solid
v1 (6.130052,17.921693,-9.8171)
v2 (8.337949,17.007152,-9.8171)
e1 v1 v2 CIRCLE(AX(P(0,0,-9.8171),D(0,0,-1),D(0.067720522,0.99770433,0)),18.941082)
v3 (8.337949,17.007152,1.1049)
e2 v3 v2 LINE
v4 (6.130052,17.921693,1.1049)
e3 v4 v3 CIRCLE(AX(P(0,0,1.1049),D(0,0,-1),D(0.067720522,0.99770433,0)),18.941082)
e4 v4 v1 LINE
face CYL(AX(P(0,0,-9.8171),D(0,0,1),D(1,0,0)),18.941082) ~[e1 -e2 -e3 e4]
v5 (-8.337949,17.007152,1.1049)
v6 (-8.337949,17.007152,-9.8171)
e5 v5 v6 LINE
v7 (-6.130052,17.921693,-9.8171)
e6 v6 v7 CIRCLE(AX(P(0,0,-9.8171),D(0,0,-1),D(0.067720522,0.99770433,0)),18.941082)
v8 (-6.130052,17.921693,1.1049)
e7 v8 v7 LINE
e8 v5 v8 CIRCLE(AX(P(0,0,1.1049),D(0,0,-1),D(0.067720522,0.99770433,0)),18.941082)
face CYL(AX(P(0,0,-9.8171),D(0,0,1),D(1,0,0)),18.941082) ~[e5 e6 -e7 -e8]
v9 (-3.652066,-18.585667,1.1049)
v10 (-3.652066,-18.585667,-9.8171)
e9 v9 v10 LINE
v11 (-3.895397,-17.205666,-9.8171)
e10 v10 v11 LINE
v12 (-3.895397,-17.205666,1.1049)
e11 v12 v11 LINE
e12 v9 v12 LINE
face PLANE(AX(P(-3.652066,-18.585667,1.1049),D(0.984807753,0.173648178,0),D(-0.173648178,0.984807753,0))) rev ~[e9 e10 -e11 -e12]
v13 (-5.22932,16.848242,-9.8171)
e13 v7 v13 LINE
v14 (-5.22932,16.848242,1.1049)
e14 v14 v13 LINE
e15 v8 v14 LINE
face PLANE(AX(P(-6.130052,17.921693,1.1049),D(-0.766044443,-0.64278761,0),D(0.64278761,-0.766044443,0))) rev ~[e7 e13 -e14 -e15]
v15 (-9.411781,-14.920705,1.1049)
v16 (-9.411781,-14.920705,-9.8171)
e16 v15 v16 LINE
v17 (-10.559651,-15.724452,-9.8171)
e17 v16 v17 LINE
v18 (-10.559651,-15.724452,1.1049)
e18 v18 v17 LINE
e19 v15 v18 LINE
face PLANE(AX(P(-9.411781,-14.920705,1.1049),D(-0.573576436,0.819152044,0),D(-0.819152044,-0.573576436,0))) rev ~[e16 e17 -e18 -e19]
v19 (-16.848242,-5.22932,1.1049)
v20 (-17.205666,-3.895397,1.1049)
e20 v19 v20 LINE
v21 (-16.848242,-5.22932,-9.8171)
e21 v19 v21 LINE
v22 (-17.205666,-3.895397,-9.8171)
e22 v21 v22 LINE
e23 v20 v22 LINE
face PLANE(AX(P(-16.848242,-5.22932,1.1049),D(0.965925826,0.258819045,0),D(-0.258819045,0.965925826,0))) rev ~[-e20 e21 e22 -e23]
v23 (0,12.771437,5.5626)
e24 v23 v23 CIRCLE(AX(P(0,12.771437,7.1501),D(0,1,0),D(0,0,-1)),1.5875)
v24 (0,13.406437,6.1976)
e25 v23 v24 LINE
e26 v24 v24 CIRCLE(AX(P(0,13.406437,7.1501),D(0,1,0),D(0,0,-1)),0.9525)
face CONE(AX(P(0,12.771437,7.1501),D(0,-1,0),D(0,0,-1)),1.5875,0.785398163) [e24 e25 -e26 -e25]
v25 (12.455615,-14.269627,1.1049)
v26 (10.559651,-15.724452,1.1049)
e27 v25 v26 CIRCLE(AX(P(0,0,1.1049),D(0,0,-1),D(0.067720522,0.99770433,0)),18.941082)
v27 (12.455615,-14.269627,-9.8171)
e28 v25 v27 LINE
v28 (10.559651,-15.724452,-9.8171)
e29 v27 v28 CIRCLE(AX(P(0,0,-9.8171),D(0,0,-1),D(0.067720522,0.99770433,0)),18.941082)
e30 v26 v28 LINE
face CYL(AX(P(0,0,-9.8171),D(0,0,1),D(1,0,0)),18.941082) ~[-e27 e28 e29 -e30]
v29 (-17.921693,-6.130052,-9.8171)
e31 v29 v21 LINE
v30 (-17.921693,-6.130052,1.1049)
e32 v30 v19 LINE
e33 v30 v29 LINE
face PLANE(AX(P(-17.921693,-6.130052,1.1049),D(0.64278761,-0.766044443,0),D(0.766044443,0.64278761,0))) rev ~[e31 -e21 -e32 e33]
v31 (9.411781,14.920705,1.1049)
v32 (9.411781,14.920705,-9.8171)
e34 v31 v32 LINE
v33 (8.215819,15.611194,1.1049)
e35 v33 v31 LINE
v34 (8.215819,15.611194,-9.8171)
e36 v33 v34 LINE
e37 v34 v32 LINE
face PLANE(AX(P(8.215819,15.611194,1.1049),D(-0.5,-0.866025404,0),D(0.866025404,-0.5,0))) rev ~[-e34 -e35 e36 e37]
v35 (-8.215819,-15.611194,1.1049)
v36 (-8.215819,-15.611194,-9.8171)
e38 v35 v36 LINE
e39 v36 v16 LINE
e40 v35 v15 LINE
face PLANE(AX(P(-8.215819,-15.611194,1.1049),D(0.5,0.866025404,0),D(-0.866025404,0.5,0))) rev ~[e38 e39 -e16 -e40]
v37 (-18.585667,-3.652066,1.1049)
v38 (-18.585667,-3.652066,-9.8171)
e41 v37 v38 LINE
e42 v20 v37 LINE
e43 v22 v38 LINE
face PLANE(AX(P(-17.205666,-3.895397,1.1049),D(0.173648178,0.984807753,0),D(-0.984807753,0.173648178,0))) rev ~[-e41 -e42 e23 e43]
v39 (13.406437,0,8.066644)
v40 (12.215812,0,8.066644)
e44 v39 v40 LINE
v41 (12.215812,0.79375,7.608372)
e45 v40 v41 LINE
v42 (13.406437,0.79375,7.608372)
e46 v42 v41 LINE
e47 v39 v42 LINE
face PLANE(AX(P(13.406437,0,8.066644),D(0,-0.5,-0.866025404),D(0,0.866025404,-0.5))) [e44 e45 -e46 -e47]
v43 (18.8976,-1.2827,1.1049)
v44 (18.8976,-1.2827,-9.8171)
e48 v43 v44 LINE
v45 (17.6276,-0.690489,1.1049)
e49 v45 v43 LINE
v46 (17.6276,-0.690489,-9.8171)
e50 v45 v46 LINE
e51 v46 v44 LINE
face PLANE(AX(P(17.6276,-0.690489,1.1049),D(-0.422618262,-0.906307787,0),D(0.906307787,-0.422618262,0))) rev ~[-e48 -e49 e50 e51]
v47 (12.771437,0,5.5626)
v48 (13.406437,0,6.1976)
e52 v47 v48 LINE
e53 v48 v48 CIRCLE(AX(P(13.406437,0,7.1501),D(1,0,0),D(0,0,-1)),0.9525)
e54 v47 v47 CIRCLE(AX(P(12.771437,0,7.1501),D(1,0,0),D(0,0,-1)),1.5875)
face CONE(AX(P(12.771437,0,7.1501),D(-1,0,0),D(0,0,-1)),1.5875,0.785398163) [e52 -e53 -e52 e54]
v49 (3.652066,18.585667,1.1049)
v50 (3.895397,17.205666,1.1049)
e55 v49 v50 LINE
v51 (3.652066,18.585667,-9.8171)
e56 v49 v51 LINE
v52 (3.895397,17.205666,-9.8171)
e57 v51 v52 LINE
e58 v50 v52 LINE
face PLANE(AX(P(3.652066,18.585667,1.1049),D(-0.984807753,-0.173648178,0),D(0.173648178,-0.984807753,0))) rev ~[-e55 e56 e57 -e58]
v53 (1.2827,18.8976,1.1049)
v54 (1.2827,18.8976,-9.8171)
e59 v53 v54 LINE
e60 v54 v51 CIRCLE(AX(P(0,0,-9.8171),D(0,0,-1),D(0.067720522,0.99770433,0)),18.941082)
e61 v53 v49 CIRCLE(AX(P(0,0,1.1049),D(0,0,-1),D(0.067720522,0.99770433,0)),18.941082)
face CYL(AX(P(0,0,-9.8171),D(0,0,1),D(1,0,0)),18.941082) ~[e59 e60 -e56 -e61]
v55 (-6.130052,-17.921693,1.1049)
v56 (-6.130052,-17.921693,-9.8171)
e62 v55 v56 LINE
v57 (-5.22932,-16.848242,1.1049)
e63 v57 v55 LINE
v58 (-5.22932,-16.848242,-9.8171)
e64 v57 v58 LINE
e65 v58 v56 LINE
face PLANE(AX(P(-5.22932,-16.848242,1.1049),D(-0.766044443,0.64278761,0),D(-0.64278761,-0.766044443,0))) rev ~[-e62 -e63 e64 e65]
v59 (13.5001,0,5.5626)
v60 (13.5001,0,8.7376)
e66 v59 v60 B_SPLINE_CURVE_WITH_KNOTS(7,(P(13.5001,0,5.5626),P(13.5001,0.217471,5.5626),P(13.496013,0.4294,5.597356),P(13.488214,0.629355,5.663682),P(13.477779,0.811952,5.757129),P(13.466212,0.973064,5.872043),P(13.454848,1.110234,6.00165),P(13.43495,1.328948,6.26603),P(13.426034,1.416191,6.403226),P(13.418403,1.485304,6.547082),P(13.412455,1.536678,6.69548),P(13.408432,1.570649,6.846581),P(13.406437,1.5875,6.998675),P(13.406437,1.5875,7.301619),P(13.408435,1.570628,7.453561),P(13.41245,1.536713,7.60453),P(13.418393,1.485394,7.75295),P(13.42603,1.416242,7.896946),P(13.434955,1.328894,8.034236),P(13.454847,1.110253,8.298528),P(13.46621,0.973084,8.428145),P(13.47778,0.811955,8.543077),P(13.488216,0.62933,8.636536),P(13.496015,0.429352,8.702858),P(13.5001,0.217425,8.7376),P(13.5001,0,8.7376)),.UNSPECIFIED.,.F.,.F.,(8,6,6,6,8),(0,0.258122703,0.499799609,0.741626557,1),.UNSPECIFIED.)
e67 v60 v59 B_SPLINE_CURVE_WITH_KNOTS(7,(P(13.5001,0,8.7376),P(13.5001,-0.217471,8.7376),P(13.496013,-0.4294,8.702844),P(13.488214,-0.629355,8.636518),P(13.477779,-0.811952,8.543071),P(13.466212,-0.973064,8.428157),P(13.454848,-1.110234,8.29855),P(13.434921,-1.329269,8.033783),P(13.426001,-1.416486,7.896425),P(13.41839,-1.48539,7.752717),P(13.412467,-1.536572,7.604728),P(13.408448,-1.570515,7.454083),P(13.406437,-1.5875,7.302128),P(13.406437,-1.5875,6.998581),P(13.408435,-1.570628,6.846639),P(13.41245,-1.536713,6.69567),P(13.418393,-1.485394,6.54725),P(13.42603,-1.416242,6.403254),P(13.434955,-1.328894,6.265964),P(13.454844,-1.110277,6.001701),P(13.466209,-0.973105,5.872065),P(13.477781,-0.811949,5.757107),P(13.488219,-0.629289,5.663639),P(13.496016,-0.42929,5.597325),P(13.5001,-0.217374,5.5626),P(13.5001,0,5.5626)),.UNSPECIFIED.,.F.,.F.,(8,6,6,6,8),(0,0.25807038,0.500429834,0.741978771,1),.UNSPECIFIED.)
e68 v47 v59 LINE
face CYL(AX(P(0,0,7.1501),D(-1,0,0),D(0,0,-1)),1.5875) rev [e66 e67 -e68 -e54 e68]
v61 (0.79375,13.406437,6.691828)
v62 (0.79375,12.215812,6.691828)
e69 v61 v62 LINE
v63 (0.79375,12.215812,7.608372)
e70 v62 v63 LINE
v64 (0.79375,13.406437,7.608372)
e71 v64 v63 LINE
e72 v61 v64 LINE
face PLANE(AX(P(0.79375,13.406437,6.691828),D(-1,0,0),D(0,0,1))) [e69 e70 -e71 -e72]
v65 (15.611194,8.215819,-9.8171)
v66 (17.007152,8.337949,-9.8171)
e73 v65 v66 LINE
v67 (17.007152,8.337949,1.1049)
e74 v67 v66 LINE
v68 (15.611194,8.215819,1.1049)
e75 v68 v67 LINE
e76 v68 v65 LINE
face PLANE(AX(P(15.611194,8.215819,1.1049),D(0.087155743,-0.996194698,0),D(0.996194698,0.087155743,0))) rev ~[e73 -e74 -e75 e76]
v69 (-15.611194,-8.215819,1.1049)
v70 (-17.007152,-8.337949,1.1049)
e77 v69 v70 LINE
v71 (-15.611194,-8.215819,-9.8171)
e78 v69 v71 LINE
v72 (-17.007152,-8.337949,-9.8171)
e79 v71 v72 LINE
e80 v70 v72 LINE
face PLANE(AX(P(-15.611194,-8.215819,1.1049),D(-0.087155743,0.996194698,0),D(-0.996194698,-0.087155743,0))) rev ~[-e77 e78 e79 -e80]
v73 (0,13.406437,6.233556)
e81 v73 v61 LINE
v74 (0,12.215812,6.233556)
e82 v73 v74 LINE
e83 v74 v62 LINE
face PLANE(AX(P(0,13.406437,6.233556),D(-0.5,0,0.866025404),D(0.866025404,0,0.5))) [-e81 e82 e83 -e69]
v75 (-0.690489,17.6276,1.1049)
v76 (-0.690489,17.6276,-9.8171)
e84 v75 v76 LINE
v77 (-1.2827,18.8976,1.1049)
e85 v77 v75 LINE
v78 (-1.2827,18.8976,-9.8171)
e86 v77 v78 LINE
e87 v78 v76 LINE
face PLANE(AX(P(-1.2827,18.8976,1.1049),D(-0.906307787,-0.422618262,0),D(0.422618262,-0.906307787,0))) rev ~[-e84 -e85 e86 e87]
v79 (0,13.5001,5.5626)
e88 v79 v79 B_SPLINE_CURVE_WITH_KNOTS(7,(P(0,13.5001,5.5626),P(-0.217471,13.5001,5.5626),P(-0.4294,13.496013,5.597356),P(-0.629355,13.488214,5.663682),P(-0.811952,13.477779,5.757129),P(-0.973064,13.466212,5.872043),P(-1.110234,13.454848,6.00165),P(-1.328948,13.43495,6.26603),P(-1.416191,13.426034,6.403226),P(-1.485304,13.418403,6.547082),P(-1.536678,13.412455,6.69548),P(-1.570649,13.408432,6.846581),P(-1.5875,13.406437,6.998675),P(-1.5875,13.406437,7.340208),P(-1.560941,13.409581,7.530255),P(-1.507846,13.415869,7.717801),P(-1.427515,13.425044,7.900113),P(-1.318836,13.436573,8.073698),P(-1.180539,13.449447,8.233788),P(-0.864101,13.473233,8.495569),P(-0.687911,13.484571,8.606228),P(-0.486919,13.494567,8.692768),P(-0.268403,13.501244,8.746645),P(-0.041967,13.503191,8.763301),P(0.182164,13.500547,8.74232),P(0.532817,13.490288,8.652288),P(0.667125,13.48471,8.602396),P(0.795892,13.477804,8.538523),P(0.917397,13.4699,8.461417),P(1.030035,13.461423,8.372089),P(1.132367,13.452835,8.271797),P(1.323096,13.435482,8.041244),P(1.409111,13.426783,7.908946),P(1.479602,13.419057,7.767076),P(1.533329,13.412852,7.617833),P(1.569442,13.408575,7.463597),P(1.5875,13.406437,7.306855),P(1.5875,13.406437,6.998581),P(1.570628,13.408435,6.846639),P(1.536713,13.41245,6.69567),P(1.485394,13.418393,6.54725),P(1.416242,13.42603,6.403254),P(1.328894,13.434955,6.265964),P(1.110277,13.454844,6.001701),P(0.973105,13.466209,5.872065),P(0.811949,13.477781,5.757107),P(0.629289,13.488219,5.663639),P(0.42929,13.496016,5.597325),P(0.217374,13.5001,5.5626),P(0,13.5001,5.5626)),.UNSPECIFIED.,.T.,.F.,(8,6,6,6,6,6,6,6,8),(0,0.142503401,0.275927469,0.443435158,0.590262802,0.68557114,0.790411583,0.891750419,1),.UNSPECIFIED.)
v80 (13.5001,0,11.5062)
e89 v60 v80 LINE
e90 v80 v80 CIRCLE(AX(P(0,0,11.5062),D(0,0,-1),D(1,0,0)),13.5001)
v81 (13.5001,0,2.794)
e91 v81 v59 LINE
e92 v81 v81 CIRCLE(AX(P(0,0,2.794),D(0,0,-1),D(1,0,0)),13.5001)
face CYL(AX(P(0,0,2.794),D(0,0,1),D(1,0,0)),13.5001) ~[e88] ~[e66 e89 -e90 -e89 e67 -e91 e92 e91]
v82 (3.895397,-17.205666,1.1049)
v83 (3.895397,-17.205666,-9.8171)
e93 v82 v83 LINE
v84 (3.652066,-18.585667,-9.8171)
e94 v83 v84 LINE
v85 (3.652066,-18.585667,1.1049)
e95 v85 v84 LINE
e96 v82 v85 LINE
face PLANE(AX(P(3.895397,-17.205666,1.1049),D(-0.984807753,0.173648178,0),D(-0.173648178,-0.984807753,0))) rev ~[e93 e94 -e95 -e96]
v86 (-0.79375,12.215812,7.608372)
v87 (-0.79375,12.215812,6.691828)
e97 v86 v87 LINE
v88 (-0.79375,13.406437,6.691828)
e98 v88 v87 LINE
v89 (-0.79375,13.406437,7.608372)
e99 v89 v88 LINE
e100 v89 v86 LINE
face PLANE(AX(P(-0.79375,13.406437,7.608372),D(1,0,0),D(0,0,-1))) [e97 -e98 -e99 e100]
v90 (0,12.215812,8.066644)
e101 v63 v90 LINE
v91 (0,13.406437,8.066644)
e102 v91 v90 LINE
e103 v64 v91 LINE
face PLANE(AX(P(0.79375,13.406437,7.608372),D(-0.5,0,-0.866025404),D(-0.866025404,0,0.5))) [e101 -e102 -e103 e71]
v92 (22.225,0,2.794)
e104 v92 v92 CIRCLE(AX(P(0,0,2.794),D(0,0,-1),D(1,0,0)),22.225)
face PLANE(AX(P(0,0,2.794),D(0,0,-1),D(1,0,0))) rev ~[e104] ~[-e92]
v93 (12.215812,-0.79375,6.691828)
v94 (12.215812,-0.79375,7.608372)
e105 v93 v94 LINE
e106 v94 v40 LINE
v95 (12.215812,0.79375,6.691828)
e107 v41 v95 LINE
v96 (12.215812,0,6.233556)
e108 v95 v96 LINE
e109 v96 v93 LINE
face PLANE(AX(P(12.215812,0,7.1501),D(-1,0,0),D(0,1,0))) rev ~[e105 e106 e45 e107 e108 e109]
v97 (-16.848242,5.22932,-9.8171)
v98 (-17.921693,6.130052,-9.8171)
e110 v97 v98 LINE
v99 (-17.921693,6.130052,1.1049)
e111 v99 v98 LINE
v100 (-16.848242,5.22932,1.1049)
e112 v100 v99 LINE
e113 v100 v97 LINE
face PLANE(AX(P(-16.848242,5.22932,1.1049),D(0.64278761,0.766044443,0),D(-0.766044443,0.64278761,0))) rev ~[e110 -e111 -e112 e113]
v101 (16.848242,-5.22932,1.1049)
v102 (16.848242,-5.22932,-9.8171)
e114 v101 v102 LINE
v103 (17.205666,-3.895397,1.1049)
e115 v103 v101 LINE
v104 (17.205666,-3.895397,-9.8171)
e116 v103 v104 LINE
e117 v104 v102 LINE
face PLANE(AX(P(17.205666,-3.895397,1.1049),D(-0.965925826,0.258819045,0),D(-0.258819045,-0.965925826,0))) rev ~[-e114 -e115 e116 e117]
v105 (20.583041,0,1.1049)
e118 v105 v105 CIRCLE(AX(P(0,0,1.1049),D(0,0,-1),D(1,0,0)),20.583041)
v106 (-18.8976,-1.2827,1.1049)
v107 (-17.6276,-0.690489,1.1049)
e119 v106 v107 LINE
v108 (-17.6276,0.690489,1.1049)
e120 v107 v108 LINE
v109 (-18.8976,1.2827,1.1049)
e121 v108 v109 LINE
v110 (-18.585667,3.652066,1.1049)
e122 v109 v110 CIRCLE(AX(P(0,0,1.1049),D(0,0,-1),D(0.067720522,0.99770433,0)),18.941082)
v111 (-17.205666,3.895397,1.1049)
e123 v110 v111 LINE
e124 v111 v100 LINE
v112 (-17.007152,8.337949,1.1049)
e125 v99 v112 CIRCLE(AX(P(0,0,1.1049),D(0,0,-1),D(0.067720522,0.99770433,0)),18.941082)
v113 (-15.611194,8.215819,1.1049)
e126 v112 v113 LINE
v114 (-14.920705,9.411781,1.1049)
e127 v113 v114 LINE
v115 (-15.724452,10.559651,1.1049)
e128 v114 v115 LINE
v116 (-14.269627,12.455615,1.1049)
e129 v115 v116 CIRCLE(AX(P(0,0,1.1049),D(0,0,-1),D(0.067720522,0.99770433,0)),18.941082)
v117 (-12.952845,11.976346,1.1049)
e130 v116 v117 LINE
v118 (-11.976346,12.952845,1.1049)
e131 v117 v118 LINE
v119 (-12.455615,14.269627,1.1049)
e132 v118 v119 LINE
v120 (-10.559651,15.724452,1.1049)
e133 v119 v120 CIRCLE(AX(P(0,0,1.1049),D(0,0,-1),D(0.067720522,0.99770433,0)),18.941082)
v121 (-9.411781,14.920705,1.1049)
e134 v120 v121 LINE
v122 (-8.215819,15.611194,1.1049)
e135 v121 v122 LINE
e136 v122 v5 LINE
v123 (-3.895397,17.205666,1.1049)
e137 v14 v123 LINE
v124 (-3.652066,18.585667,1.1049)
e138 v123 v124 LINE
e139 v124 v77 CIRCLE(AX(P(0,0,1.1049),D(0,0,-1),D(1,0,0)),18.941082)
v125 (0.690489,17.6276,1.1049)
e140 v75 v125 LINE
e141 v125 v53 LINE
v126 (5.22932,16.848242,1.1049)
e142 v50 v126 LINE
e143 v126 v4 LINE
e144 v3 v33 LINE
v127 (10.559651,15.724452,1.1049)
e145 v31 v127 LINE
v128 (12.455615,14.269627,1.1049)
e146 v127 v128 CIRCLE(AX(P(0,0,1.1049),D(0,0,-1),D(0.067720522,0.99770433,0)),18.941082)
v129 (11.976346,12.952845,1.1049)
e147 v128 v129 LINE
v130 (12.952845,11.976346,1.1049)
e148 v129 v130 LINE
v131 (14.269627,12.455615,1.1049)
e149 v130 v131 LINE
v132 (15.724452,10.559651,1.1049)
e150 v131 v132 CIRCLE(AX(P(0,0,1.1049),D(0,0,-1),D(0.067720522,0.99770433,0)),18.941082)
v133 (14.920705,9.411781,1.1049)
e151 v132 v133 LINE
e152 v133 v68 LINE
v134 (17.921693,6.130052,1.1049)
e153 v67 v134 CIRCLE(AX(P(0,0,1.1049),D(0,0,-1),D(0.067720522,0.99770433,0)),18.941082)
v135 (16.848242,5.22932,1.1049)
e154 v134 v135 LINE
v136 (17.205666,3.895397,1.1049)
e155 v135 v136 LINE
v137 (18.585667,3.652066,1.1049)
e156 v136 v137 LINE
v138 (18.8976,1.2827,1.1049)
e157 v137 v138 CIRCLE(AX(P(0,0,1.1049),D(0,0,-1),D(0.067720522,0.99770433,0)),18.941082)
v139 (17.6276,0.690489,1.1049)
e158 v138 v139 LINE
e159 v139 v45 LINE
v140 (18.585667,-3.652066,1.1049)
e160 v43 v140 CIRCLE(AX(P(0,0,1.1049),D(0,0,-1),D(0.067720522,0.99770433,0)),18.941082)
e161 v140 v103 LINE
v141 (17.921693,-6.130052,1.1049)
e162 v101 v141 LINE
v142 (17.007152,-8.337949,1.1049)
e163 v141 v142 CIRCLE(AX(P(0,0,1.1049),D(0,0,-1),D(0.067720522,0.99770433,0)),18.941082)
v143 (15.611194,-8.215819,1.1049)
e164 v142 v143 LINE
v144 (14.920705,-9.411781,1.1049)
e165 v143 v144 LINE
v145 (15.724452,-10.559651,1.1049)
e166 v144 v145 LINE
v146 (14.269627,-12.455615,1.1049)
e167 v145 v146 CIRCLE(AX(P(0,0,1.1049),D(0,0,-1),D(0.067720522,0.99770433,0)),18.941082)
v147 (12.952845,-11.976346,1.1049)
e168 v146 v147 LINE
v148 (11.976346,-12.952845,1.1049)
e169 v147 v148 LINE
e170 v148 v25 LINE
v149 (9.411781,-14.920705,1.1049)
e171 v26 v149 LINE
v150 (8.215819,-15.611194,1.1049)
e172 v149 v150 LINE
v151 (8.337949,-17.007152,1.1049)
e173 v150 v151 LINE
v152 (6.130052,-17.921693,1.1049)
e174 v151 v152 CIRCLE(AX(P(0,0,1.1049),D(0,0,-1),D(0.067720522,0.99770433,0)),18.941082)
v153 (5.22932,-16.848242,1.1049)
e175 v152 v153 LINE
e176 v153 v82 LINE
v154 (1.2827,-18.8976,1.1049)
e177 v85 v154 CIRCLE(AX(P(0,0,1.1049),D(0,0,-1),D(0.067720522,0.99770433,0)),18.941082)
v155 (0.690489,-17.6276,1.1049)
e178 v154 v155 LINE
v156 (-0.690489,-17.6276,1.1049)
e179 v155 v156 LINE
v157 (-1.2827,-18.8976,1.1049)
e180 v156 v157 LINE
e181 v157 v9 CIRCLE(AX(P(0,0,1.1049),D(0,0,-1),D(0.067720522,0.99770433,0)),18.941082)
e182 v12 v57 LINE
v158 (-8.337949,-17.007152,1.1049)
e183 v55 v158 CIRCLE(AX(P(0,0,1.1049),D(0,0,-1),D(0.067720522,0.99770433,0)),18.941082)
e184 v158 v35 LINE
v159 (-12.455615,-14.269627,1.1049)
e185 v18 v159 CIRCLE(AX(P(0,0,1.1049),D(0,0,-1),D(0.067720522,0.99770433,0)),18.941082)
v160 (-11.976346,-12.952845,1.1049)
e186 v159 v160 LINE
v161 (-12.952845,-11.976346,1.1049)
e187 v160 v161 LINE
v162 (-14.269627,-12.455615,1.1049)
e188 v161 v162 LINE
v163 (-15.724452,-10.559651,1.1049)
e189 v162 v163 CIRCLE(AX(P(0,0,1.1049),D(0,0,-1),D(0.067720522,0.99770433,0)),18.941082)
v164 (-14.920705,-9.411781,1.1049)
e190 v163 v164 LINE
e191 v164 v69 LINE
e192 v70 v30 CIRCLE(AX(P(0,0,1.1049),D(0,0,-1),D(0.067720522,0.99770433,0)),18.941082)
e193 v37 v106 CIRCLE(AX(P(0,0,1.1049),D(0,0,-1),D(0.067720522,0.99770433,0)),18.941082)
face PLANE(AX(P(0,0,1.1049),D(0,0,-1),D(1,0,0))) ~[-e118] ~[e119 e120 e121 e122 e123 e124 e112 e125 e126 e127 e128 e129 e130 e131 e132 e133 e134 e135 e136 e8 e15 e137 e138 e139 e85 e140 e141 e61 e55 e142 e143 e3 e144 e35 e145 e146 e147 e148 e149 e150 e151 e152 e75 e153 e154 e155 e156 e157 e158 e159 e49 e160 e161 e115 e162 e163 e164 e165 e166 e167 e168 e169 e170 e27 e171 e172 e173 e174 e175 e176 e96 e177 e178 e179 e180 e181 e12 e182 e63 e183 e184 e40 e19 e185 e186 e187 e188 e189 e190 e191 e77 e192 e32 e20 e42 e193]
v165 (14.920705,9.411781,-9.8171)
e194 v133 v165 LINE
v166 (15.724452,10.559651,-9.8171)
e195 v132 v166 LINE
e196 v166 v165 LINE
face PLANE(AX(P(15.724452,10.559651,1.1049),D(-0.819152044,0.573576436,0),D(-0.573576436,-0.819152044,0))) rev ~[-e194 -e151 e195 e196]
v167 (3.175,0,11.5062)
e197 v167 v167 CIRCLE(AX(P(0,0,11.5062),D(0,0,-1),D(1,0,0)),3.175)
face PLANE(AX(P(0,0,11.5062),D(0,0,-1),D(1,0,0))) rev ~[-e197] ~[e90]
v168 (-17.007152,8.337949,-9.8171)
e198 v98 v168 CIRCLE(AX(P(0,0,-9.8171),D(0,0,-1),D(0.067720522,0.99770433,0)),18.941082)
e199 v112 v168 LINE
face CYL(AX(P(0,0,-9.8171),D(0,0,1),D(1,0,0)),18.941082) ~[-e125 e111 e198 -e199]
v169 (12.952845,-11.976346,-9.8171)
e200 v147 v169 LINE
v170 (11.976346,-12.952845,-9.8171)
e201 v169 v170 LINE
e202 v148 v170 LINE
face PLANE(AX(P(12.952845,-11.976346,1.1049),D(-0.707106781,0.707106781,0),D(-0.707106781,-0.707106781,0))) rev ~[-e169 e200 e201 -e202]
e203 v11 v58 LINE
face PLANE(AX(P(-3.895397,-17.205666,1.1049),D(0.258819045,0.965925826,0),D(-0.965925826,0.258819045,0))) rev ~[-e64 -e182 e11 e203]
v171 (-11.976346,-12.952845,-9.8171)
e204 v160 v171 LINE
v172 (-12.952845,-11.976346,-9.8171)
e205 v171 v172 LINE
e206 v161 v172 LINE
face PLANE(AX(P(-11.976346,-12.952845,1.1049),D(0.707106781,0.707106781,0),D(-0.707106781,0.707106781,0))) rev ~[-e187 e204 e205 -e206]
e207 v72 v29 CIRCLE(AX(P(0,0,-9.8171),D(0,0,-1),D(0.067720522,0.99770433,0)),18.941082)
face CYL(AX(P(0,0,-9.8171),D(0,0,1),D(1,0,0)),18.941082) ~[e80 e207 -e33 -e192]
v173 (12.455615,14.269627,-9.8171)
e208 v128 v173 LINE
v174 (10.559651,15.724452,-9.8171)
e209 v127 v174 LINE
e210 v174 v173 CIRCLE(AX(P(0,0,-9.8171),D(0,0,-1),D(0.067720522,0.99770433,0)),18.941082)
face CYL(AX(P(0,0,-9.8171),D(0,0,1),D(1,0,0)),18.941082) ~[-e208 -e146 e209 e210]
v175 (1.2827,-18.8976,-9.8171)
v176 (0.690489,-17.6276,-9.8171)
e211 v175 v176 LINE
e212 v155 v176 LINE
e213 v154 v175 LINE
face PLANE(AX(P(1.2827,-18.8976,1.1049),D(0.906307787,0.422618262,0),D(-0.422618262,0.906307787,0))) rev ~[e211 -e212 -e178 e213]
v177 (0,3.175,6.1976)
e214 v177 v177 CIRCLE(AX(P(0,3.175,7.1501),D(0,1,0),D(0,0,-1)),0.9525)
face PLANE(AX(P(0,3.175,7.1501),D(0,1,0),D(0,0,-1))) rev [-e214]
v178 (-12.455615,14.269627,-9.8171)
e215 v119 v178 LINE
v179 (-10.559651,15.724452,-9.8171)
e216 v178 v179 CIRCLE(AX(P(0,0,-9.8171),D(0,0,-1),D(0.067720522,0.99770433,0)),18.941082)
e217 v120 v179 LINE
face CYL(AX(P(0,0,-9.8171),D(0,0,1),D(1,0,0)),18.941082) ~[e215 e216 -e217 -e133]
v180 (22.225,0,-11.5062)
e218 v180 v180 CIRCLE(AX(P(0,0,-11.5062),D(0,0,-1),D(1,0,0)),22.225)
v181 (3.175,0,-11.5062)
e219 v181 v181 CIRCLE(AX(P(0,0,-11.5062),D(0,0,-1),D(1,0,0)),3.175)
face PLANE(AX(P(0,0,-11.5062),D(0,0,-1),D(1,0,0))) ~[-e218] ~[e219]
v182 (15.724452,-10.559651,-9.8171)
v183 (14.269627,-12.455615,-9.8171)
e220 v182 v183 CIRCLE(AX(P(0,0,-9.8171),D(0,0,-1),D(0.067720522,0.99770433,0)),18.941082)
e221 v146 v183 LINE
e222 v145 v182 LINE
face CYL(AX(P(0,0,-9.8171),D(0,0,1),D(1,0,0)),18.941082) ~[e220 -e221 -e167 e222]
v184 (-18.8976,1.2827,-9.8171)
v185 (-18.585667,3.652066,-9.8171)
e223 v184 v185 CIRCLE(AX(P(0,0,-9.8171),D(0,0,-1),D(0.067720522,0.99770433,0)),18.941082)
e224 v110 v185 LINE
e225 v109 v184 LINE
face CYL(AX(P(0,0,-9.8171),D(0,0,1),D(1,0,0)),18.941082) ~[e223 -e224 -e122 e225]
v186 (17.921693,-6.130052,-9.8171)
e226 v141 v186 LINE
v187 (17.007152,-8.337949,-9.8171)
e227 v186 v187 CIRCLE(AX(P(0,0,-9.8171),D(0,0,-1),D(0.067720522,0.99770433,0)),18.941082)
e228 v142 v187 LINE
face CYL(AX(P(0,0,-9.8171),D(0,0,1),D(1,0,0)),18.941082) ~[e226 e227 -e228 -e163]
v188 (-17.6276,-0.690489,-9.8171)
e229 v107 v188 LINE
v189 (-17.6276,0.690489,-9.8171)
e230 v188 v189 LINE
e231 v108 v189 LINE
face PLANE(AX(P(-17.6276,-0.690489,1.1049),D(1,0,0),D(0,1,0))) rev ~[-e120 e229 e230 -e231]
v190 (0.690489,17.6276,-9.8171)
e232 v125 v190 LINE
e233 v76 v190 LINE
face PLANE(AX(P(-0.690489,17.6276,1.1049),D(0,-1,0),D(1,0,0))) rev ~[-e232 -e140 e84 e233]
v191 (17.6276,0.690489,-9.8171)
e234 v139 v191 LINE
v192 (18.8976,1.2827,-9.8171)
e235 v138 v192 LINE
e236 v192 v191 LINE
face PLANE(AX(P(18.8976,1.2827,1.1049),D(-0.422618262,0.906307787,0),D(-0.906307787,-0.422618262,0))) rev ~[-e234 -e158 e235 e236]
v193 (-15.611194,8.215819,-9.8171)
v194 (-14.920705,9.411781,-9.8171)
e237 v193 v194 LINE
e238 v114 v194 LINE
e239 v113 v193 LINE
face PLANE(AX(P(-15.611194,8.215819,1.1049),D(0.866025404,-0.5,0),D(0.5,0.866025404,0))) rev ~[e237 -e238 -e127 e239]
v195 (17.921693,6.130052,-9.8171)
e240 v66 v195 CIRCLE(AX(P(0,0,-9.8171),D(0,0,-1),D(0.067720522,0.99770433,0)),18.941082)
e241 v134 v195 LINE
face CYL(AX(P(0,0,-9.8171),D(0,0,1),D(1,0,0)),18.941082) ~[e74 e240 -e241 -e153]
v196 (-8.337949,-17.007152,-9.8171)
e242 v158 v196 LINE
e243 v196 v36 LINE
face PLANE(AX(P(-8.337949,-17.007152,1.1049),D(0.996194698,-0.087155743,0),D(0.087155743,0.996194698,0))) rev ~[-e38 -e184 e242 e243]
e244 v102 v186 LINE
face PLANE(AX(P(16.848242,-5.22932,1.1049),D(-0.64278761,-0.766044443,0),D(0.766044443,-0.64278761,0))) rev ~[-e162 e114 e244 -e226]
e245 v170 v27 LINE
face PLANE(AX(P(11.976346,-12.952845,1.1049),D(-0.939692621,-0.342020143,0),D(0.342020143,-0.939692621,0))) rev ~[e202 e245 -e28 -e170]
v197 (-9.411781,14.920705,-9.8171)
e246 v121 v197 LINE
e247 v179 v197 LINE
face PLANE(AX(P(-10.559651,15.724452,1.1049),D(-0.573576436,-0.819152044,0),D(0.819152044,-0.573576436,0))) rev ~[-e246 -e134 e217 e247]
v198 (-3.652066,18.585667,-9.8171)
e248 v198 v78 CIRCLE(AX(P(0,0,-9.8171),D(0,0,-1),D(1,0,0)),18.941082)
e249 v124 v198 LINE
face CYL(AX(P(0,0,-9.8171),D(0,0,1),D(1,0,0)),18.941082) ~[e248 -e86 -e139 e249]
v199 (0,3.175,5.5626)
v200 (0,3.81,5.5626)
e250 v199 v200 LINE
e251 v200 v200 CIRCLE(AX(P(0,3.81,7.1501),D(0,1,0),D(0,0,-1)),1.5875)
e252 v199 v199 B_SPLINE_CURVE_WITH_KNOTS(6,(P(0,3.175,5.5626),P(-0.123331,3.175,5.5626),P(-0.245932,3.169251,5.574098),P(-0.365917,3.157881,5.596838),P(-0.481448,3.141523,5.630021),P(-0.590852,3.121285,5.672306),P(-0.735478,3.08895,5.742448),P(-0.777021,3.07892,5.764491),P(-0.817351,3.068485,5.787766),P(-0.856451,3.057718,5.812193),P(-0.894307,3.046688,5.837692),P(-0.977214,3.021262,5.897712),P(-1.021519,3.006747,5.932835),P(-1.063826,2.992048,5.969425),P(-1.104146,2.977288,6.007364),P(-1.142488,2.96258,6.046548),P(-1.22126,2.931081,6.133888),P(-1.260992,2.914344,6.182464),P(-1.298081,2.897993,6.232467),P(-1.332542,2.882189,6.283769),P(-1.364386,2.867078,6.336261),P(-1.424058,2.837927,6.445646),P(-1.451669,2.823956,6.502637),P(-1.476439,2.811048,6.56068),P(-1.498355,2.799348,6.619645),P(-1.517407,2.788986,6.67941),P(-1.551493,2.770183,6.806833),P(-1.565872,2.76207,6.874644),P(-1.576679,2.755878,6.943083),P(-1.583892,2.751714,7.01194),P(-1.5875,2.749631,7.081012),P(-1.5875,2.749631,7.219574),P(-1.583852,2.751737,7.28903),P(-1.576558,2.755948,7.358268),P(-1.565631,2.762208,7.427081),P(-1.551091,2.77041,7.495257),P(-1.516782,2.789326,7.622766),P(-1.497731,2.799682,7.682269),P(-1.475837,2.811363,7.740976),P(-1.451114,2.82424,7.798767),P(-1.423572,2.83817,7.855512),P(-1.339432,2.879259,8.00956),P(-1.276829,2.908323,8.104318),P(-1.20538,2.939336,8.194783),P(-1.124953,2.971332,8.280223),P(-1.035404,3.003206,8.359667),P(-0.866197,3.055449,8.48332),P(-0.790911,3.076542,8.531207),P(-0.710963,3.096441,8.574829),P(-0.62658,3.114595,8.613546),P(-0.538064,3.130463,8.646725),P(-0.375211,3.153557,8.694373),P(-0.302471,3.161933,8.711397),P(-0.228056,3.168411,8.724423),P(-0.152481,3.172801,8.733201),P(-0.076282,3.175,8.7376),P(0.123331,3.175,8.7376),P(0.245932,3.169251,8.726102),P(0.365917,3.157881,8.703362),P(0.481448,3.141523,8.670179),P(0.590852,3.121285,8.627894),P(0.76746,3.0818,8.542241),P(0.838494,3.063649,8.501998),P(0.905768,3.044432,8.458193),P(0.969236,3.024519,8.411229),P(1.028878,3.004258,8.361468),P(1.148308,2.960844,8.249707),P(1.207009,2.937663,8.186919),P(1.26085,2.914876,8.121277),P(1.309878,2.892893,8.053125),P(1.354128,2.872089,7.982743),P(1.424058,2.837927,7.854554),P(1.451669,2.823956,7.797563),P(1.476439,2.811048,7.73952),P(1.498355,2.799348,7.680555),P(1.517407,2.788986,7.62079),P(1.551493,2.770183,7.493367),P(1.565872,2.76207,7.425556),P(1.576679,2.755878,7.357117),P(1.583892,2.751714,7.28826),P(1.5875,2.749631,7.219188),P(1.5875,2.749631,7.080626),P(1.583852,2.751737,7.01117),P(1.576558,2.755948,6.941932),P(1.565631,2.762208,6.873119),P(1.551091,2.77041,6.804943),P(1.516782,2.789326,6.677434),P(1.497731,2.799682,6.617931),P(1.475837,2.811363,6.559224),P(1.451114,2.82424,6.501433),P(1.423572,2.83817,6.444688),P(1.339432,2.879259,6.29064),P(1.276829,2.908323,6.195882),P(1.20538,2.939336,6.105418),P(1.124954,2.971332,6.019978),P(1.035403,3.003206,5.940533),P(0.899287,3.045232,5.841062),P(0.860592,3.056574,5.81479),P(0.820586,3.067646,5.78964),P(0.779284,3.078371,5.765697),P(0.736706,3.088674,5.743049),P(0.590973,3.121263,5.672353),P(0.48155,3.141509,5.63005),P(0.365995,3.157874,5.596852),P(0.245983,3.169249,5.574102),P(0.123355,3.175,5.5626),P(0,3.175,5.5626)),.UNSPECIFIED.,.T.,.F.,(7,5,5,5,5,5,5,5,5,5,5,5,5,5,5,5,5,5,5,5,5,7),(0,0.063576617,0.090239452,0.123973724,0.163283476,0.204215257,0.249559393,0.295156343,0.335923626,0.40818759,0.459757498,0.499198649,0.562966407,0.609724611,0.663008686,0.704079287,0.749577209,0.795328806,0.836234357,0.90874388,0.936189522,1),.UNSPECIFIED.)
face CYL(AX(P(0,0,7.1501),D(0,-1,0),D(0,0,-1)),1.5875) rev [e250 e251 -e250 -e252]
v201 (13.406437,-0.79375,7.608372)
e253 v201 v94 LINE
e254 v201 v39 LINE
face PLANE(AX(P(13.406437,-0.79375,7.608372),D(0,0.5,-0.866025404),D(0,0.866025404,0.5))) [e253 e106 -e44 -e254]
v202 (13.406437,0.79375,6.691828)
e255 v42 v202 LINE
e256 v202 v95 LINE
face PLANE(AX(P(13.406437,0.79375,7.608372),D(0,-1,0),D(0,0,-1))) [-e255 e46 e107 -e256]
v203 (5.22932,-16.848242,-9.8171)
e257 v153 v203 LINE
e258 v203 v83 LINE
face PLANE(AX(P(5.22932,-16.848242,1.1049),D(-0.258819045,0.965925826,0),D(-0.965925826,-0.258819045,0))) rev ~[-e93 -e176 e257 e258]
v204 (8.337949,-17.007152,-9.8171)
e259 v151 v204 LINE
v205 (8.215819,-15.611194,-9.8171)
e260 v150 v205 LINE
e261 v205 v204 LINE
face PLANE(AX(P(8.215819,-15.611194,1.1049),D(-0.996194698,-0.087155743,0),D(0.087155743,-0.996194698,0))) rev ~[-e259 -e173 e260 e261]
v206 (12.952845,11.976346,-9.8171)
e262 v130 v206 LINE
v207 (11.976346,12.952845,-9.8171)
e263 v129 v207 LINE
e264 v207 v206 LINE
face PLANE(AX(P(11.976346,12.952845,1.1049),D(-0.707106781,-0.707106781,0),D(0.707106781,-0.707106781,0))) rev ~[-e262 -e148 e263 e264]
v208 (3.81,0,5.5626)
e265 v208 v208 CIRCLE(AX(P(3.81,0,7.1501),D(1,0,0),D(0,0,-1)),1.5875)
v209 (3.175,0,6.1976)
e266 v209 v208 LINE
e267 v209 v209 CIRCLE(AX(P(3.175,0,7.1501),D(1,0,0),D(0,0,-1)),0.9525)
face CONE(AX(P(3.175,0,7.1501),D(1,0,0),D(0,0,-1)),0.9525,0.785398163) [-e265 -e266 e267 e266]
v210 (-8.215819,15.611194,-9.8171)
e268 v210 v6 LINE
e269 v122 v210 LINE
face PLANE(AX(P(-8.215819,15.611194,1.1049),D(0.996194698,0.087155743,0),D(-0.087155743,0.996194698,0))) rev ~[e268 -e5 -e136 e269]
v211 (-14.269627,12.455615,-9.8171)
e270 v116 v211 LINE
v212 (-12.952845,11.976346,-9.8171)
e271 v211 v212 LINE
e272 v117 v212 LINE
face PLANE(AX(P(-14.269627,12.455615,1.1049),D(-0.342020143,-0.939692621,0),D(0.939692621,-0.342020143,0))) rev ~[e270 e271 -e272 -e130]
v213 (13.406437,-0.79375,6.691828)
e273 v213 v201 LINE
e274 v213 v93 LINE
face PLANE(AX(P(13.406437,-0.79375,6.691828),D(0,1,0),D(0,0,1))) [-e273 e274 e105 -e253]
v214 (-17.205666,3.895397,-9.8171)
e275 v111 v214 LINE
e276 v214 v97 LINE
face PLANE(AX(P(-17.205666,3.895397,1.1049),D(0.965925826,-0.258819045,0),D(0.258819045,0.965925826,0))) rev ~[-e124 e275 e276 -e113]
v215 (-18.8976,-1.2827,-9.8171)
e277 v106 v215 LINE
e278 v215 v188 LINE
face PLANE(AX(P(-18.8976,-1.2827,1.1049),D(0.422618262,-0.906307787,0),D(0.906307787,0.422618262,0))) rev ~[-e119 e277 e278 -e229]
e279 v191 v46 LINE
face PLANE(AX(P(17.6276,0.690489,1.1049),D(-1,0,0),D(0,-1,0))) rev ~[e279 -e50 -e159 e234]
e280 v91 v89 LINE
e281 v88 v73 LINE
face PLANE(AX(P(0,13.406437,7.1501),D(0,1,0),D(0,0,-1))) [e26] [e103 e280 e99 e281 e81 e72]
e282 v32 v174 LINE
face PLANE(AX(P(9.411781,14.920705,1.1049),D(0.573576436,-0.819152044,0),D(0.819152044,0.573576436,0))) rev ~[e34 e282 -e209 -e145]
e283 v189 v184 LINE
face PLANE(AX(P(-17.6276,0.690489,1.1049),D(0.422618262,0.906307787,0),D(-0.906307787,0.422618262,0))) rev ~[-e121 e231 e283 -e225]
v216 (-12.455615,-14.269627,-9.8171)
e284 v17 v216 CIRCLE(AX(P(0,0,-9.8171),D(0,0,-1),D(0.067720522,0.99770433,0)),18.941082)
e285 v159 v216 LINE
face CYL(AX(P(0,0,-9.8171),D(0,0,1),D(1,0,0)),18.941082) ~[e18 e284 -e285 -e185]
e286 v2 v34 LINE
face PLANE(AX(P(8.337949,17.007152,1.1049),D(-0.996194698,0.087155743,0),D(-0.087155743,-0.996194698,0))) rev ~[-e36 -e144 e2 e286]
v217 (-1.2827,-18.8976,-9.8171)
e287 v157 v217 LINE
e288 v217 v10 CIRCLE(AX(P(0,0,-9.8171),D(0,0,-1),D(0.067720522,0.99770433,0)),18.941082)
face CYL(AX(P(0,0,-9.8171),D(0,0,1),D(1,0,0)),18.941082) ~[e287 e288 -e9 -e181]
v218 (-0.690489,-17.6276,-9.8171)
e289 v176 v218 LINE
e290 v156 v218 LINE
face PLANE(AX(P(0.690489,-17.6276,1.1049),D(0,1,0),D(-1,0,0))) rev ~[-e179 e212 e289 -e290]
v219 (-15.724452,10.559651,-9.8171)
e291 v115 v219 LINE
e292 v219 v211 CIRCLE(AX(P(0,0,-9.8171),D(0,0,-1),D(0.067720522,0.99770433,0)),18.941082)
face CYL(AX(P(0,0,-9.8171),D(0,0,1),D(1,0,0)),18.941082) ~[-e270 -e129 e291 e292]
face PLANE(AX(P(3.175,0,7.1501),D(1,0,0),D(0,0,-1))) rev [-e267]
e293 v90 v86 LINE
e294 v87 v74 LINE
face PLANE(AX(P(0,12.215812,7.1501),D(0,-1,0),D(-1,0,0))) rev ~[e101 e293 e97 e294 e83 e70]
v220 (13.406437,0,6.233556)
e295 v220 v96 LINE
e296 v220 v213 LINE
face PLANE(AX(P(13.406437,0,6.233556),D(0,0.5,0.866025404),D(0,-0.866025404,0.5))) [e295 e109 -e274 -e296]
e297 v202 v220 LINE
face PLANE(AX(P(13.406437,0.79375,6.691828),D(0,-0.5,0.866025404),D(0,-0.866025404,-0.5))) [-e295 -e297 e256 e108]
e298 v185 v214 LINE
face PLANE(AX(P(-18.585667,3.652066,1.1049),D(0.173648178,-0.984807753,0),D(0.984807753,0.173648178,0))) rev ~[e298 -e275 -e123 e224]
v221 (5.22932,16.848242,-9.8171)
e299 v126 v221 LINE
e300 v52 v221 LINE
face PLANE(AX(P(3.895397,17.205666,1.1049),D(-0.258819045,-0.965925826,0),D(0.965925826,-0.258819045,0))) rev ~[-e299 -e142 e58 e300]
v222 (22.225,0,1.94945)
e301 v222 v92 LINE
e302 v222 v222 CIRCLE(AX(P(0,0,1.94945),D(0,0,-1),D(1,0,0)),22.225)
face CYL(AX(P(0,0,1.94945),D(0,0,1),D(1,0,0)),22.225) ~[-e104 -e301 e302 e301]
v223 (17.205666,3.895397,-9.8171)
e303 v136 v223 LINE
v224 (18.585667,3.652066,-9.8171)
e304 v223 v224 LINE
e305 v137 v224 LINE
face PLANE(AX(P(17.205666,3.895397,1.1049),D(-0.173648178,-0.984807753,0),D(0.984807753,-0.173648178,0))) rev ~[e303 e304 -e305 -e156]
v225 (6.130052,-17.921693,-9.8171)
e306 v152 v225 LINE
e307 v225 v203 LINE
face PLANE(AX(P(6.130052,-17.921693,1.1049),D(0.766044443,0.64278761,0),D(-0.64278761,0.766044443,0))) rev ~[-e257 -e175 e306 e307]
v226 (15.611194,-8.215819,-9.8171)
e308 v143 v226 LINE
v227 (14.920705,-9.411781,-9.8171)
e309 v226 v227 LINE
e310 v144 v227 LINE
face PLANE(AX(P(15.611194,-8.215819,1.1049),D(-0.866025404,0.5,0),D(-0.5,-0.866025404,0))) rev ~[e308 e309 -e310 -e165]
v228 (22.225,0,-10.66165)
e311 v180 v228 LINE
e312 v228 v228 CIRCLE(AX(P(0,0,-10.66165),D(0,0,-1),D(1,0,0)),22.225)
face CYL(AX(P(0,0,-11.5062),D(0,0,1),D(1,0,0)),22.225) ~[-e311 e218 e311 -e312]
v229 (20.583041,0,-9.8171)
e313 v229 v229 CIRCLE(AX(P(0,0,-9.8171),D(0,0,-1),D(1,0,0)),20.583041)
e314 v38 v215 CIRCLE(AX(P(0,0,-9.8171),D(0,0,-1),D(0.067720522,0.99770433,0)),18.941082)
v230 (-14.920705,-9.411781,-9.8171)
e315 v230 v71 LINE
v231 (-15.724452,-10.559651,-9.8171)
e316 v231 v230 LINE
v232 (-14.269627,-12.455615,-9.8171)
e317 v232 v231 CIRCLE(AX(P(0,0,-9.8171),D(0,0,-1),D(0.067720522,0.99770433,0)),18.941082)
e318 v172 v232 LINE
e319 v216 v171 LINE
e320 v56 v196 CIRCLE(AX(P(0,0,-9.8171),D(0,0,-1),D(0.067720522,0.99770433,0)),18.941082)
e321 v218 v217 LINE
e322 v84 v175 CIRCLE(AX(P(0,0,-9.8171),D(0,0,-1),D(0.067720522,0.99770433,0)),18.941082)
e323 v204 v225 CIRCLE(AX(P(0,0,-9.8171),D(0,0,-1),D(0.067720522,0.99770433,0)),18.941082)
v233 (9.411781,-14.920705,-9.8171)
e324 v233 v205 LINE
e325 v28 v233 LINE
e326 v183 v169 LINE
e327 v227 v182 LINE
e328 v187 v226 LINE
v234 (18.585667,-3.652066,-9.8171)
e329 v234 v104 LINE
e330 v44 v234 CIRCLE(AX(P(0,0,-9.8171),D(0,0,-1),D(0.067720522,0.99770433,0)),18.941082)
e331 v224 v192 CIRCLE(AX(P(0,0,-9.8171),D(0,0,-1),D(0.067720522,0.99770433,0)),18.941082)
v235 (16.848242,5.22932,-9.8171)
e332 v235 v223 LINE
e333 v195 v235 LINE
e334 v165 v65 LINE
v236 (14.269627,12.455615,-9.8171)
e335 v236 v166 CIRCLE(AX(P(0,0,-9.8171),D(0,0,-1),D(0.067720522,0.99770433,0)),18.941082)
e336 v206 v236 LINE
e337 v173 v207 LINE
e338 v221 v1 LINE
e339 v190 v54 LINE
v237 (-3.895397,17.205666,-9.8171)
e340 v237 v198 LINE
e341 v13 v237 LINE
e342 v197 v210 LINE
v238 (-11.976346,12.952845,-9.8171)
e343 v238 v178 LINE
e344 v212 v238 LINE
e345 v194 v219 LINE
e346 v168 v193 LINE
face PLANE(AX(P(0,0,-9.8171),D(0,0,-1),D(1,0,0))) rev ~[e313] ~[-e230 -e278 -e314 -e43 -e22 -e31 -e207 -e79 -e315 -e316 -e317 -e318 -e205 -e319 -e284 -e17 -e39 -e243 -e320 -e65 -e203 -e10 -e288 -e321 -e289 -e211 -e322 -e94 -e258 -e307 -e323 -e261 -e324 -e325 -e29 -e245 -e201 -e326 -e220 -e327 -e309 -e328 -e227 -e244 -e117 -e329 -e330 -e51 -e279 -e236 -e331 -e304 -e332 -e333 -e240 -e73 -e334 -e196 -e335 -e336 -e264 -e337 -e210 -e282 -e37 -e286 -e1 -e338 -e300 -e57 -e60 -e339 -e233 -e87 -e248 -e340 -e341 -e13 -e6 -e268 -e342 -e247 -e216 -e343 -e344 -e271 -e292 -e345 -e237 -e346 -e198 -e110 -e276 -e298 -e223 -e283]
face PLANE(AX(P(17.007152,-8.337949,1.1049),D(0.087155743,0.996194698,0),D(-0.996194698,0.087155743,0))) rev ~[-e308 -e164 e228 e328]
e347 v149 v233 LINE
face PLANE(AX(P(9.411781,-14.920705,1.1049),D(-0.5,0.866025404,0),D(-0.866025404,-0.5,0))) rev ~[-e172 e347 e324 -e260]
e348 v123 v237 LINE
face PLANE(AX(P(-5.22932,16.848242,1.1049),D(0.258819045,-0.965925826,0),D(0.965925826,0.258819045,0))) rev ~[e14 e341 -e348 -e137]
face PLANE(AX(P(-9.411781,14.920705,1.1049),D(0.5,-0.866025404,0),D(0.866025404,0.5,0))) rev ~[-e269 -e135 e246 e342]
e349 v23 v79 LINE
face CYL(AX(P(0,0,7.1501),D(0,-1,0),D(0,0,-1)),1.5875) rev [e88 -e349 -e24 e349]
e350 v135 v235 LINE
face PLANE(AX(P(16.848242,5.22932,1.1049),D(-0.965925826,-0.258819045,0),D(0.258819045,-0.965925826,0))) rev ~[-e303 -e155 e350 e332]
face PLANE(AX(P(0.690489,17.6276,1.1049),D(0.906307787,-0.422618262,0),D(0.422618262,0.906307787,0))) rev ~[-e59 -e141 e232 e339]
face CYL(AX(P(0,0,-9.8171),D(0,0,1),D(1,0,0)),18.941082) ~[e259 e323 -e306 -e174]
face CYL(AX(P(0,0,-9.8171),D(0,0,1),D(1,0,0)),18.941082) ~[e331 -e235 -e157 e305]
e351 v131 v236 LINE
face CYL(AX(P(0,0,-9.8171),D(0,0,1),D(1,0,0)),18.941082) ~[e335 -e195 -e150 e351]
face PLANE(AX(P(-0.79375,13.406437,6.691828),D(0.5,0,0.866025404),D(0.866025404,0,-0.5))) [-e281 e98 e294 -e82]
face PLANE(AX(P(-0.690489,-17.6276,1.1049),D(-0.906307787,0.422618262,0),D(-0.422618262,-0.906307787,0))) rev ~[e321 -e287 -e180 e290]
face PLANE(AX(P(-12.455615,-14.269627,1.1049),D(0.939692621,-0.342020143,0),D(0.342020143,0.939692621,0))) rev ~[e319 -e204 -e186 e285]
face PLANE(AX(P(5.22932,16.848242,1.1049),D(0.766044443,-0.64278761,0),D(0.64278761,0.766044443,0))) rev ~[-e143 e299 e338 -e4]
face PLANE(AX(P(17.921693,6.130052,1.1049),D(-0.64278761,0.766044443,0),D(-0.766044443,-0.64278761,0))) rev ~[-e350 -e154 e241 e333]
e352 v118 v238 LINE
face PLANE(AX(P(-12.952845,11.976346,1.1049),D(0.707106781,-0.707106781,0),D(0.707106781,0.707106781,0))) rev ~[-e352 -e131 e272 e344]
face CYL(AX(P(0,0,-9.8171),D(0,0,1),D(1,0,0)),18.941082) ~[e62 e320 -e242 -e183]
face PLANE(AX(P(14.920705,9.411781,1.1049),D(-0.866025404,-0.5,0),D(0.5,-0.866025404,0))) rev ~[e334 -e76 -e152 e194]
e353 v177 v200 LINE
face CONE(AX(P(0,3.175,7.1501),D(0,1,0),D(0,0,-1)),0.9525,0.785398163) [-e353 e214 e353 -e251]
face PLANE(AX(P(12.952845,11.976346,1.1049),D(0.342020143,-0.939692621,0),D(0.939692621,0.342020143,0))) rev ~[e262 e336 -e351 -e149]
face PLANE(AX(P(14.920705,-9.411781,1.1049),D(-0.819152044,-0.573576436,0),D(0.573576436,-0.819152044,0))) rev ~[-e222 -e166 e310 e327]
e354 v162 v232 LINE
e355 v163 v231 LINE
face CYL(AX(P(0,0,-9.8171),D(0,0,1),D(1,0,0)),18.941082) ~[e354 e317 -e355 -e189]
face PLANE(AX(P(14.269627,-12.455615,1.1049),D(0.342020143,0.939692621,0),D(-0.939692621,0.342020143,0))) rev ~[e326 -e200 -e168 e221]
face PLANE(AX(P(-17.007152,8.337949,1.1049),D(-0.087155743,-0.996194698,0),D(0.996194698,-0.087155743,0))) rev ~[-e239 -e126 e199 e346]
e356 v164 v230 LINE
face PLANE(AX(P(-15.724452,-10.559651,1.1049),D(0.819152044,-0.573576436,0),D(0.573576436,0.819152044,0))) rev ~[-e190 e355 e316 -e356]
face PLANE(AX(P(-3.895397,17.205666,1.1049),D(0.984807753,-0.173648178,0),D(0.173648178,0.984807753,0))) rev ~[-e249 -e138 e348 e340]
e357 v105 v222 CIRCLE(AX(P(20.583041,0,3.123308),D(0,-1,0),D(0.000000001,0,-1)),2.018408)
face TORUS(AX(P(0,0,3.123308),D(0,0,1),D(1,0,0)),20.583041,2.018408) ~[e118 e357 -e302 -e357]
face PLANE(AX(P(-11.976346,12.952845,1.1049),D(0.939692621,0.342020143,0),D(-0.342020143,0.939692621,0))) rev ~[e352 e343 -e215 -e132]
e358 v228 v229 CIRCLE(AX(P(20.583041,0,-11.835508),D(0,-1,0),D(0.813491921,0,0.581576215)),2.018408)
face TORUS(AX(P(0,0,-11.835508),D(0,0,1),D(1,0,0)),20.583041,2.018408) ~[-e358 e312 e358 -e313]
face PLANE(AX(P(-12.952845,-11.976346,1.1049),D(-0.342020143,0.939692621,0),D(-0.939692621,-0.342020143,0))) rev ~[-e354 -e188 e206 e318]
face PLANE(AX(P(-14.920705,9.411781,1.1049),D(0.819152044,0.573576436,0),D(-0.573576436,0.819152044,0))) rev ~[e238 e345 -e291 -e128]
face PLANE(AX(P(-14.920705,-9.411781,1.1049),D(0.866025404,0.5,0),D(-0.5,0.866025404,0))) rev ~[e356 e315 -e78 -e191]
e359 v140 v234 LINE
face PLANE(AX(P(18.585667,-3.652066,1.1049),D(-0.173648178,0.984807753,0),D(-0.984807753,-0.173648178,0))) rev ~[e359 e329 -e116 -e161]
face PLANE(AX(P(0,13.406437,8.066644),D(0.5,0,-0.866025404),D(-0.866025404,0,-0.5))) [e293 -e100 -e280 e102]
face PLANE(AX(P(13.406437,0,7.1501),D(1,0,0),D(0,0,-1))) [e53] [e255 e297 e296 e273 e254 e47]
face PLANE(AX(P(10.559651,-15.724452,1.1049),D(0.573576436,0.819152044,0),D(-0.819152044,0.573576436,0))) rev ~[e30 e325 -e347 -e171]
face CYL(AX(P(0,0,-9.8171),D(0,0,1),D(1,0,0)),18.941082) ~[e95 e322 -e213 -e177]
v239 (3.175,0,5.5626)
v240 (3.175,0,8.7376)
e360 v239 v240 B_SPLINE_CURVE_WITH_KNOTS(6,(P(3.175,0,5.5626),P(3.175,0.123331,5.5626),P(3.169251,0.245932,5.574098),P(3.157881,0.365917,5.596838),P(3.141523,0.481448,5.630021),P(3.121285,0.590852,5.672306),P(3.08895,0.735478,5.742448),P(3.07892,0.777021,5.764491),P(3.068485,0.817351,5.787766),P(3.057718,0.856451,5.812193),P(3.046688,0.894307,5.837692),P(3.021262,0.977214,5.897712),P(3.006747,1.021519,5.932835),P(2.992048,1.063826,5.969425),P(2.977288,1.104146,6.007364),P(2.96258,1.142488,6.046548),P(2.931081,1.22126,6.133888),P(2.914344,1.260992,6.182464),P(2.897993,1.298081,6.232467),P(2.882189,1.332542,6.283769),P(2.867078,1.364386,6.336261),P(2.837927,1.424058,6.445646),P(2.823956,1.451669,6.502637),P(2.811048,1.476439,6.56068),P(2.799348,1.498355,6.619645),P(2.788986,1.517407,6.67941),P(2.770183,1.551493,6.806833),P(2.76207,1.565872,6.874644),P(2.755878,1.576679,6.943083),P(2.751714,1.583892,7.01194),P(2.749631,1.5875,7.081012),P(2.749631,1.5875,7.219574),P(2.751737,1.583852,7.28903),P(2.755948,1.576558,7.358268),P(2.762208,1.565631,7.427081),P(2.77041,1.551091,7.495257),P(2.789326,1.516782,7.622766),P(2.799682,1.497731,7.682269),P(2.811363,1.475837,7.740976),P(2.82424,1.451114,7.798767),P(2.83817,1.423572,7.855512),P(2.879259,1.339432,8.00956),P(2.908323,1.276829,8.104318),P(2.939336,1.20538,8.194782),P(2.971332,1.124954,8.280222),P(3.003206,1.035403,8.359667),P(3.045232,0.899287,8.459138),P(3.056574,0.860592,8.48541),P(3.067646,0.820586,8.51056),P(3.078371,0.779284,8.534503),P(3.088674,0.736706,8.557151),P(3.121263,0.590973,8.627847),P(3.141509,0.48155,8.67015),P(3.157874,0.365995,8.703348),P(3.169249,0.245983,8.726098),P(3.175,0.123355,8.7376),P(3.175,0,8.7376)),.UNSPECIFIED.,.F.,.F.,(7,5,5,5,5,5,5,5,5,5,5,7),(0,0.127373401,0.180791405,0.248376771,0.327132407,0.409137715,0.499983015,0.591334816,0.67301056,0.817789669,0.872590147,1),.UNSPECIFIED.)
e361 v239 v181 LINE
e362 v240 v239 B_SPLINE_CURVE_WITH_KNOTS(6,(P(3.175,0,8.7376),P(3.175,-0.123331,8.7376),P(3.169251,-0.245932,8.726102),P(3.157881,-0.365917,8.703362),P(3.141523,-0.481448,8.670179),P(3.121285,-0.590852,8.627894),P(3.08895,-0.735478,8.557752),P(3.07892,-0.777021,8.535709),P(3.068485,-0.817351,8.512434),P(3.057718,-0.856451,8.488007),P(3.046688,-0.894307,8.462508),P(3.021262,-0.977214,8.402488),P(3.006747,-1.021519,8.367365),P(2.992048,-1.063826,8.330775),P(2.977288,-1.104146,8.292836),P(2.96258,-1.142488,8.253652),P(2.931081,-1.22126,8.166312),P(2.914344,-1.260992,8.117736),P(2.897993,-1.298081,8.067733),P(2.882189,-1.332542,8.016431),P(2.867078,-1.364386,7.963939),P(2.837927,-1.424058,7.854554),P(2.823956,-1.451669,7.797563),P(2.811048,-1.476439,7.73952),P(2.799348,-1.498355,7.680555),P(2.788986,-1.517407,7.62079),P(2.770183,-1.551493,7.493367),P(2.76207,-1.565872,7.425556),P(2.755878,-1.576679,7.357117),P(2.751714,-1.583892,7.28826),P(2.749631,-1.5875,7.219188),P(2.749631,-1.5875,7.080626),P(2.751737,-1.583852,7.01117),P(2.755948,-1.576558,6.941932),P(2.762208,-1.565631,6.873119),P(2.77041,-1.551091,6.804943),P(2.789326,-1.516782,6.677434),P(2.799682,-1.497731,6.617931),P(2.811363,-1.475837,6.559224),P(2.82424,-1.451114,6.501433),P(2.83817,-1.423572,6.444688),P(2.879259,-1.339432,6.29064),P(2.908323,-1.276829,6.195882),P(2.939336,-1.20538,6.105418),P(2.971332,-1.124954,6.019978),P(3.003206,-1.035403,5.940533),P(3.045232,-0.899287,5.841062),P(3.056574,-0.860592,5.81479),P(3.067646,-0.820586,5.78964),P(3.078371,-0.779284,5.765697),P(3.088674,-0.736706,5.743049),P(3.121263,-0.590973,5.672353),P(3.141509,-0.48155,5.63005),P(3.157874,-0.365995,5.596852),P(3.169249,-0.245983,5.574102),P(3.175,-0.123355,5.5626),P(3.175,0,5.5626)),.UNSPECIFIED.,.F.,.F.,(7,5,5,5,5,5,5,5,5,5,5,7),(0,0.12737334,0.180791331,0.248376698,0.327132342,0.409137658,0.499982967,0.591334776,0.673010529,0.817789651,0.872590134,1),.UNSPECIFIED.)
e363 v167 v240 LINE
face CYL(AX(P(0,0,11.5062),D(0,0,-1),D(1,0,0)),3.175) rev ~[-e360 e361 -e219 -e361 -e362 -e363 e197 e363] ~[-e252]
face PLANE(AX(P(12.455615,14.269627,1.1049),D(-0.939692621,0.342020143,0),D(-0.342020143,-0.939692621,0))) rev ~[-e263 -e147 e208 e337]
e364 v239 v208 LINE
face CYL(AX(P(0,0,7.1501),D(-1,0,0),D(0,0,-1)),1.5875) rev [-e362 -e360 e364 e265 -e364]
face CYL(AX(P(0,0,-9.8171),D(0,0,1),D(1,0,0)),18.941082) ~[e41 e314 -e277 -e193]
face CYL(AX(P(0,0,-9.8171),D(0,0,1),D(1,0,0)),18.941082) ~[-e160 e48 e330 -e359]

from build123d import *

# Parameters (mm, degrees)
CUT_EXTRUDE1_START = 1.1049
CUT_EXTRUDE1_DEPTH = 10.922
CIRPATTERN1_COUNT  = 24
SKETCH4_R          = 1.5875
CUT_EXTRUDE2_DEPTH = 34.470791572
CUT_EXTRUDE3_DEPTH = 1.190625
CIRPATTERN2_COUNT  = 2
CIRPATTERN2_ANGLE  = 90


with BuildPart() as part:
    # Sketch2 → Revolve1 (revolve)
    with BuildSketch(Plane(origin=(0, 0, 0), x_dir=(0, 0, -1), z_dir=(1, 0, 0)), mode=Mode.PRIVATE) as revolve1_sk:
        with BuildLine():
            Line((-11.5062, 3.175), (11.5062, 3.175))
            Line((11.5062, 3.175), (11.5062, 22.225))
            Line((11.5062, 22.225), (10.66165, 22.225))
            ThreePointArc((10.66165, 22.225), (10.040613123, 21.506254819), (9.8171, 20.583041234))
            Line((9.8171, 20.583041234), (9.8171, 18.941082468))
            Line((9.8171, 18.941082468), (-1.1049, 18.941082468))
            Line((-1.1049, 18.941082468), (-1.1049, 20.583041234))
            ThreePointArc((-1.1049, 20.583041234), (-1.328413123, 21.506254819), (-1.94945, 22.225))
            Line((-1.94945, 22.225), (-2.794, 22.225))
            Line((-2.794, 22.225), (-2.794, 13.5001))
            Line((-2.794, 13.5001), (-11.5062, 13.5001))
            Line((-11.5062, 13.5001), (-11.5062, 3.175))
        make_face()
    revolve(revolve1_sk.sketch.rotate(Axis((0, 0, 11.5062), (0, 0, -1)), 90), axis=Axis((0, 0, 11.5062), (0, 0, -1)))

    # Sketch3 → Cut-Extrude1 (cut)
    with BuildSketch(Plane.XY.offset(CUT_EXTRUDE1_START)):
        with BuildLine():
            Line((-0.690489274, 17.6276), (0.690489274, 17.6276))
            Line((0.690489274, 17.6276), (1.2827, 18.8976))
            ThreePointArc((1.2827, 18.8976), (0, 18.941082468), (-1.2827, 18.8976))
            Line((-1.2827, 18.8976), (-0.690489274, 17.6276))
        make_face()
    cut_extrude1 = extrude(amount=-CUT_EXTRUDE1_DEPTH, mode=Mode.SUBTRACT)

    # CirPattern1: Cut-Extrude1 ×24 about axis
    cirpattern1_axis = Axis((0, 0, 0), (0, 0, 1))
    for i in range(1, CIRPATTERN1_COUNT):
        add(cut_extrude1.rotate(cirpattern1_axis, i * 360 / CIRPATTERN1_COUNT), mode=Mode.SUBTRACT)

    # Sketch4 → Cut-Extrude2 (cut, through all)
    with BuildSketch(Plane(origin=(0, 0, 0), x_dir=(1, 0, 0), z_dir=(0, 1, 0))):
        with Locations(Location((0, -7.1501, 0), (0, 0, 90))):
            Circle(SKETCH4_R)
    cut_extrude2 = extrude(amount=CUT_EXTRUDE2_DEPTH, mode=Mode.SUBTRACT)

    # Sketch5 → Revolve2 (revolve)
    with BuildSketch(Plane.XY.offset(7.1501), mode=Mode.PRIVATE) as revolve2_sk:
        Polygon((0, 13.406436654), (0, 3.175), (-0.9525, 3.175), (-1.5875, 3.81), (-1.5875, 12.771436654), (-0.9525, 13.406436654), align=None)
    revolve2 = revolve(revolve2_sk.sketch.rotate(Axis((0, 0, 7.1501), (0, 1, 0)), 270), axis=Axis((0, 0, 7.1501), (0, 1, 0)))

    # Sketch6 → Cut-Extrude3 (cut)
    with BuildSketch(Plane(origin=(0, 13.406436654, 0), x_dir=(-1, 0, 0), z_dir=(0, -1, 0))):
        Polygon((0, -6.233556448), (-0.79375, -6.691828224), (-0.79375, -7.608371776), (0, -8.066643552), (0.79375, -7.608371776), (0.79375, -6.691828224), align=None)
    cut_extrude3 = extrude(amount=CUT_EXTRUDE3_DEPTH, mode=Mode.SUBTRACT)

    # CirPattern2: Cut-Extrude2, Revolve2, Cut-Extrude3 ×2 about axis
    cirpattern2_axis = Axis((0, 0, 0), (0, 0, -1))
    add([cut_extrude2.rotate(cirpattern2_axis, i * CIRPATTERN2_ANGLE / (CIRPATTERN2_COUNT - 1)) for i in range(1, CIRPATTERN2_COUNT)], mode=Mode.SUBTRACT)
    add([revolve2.rotate(cirpattern2_axis, i * CIRPATTERN2_ANGLE / (CIRPATTERN2_COUNT - 1)) for i in range(1, CIRPATTERN2_COUNT)])
    add([cut_extrude3.rotate(cirpattern2_axis, i * CIRPATTERN2_ANGLE / (CIRPATTERN2_COUNT - 1)) for i in range(1, CIRPATTERN2_COUNT)], mode=Mode.SUBTRACT)


solid = part.part
